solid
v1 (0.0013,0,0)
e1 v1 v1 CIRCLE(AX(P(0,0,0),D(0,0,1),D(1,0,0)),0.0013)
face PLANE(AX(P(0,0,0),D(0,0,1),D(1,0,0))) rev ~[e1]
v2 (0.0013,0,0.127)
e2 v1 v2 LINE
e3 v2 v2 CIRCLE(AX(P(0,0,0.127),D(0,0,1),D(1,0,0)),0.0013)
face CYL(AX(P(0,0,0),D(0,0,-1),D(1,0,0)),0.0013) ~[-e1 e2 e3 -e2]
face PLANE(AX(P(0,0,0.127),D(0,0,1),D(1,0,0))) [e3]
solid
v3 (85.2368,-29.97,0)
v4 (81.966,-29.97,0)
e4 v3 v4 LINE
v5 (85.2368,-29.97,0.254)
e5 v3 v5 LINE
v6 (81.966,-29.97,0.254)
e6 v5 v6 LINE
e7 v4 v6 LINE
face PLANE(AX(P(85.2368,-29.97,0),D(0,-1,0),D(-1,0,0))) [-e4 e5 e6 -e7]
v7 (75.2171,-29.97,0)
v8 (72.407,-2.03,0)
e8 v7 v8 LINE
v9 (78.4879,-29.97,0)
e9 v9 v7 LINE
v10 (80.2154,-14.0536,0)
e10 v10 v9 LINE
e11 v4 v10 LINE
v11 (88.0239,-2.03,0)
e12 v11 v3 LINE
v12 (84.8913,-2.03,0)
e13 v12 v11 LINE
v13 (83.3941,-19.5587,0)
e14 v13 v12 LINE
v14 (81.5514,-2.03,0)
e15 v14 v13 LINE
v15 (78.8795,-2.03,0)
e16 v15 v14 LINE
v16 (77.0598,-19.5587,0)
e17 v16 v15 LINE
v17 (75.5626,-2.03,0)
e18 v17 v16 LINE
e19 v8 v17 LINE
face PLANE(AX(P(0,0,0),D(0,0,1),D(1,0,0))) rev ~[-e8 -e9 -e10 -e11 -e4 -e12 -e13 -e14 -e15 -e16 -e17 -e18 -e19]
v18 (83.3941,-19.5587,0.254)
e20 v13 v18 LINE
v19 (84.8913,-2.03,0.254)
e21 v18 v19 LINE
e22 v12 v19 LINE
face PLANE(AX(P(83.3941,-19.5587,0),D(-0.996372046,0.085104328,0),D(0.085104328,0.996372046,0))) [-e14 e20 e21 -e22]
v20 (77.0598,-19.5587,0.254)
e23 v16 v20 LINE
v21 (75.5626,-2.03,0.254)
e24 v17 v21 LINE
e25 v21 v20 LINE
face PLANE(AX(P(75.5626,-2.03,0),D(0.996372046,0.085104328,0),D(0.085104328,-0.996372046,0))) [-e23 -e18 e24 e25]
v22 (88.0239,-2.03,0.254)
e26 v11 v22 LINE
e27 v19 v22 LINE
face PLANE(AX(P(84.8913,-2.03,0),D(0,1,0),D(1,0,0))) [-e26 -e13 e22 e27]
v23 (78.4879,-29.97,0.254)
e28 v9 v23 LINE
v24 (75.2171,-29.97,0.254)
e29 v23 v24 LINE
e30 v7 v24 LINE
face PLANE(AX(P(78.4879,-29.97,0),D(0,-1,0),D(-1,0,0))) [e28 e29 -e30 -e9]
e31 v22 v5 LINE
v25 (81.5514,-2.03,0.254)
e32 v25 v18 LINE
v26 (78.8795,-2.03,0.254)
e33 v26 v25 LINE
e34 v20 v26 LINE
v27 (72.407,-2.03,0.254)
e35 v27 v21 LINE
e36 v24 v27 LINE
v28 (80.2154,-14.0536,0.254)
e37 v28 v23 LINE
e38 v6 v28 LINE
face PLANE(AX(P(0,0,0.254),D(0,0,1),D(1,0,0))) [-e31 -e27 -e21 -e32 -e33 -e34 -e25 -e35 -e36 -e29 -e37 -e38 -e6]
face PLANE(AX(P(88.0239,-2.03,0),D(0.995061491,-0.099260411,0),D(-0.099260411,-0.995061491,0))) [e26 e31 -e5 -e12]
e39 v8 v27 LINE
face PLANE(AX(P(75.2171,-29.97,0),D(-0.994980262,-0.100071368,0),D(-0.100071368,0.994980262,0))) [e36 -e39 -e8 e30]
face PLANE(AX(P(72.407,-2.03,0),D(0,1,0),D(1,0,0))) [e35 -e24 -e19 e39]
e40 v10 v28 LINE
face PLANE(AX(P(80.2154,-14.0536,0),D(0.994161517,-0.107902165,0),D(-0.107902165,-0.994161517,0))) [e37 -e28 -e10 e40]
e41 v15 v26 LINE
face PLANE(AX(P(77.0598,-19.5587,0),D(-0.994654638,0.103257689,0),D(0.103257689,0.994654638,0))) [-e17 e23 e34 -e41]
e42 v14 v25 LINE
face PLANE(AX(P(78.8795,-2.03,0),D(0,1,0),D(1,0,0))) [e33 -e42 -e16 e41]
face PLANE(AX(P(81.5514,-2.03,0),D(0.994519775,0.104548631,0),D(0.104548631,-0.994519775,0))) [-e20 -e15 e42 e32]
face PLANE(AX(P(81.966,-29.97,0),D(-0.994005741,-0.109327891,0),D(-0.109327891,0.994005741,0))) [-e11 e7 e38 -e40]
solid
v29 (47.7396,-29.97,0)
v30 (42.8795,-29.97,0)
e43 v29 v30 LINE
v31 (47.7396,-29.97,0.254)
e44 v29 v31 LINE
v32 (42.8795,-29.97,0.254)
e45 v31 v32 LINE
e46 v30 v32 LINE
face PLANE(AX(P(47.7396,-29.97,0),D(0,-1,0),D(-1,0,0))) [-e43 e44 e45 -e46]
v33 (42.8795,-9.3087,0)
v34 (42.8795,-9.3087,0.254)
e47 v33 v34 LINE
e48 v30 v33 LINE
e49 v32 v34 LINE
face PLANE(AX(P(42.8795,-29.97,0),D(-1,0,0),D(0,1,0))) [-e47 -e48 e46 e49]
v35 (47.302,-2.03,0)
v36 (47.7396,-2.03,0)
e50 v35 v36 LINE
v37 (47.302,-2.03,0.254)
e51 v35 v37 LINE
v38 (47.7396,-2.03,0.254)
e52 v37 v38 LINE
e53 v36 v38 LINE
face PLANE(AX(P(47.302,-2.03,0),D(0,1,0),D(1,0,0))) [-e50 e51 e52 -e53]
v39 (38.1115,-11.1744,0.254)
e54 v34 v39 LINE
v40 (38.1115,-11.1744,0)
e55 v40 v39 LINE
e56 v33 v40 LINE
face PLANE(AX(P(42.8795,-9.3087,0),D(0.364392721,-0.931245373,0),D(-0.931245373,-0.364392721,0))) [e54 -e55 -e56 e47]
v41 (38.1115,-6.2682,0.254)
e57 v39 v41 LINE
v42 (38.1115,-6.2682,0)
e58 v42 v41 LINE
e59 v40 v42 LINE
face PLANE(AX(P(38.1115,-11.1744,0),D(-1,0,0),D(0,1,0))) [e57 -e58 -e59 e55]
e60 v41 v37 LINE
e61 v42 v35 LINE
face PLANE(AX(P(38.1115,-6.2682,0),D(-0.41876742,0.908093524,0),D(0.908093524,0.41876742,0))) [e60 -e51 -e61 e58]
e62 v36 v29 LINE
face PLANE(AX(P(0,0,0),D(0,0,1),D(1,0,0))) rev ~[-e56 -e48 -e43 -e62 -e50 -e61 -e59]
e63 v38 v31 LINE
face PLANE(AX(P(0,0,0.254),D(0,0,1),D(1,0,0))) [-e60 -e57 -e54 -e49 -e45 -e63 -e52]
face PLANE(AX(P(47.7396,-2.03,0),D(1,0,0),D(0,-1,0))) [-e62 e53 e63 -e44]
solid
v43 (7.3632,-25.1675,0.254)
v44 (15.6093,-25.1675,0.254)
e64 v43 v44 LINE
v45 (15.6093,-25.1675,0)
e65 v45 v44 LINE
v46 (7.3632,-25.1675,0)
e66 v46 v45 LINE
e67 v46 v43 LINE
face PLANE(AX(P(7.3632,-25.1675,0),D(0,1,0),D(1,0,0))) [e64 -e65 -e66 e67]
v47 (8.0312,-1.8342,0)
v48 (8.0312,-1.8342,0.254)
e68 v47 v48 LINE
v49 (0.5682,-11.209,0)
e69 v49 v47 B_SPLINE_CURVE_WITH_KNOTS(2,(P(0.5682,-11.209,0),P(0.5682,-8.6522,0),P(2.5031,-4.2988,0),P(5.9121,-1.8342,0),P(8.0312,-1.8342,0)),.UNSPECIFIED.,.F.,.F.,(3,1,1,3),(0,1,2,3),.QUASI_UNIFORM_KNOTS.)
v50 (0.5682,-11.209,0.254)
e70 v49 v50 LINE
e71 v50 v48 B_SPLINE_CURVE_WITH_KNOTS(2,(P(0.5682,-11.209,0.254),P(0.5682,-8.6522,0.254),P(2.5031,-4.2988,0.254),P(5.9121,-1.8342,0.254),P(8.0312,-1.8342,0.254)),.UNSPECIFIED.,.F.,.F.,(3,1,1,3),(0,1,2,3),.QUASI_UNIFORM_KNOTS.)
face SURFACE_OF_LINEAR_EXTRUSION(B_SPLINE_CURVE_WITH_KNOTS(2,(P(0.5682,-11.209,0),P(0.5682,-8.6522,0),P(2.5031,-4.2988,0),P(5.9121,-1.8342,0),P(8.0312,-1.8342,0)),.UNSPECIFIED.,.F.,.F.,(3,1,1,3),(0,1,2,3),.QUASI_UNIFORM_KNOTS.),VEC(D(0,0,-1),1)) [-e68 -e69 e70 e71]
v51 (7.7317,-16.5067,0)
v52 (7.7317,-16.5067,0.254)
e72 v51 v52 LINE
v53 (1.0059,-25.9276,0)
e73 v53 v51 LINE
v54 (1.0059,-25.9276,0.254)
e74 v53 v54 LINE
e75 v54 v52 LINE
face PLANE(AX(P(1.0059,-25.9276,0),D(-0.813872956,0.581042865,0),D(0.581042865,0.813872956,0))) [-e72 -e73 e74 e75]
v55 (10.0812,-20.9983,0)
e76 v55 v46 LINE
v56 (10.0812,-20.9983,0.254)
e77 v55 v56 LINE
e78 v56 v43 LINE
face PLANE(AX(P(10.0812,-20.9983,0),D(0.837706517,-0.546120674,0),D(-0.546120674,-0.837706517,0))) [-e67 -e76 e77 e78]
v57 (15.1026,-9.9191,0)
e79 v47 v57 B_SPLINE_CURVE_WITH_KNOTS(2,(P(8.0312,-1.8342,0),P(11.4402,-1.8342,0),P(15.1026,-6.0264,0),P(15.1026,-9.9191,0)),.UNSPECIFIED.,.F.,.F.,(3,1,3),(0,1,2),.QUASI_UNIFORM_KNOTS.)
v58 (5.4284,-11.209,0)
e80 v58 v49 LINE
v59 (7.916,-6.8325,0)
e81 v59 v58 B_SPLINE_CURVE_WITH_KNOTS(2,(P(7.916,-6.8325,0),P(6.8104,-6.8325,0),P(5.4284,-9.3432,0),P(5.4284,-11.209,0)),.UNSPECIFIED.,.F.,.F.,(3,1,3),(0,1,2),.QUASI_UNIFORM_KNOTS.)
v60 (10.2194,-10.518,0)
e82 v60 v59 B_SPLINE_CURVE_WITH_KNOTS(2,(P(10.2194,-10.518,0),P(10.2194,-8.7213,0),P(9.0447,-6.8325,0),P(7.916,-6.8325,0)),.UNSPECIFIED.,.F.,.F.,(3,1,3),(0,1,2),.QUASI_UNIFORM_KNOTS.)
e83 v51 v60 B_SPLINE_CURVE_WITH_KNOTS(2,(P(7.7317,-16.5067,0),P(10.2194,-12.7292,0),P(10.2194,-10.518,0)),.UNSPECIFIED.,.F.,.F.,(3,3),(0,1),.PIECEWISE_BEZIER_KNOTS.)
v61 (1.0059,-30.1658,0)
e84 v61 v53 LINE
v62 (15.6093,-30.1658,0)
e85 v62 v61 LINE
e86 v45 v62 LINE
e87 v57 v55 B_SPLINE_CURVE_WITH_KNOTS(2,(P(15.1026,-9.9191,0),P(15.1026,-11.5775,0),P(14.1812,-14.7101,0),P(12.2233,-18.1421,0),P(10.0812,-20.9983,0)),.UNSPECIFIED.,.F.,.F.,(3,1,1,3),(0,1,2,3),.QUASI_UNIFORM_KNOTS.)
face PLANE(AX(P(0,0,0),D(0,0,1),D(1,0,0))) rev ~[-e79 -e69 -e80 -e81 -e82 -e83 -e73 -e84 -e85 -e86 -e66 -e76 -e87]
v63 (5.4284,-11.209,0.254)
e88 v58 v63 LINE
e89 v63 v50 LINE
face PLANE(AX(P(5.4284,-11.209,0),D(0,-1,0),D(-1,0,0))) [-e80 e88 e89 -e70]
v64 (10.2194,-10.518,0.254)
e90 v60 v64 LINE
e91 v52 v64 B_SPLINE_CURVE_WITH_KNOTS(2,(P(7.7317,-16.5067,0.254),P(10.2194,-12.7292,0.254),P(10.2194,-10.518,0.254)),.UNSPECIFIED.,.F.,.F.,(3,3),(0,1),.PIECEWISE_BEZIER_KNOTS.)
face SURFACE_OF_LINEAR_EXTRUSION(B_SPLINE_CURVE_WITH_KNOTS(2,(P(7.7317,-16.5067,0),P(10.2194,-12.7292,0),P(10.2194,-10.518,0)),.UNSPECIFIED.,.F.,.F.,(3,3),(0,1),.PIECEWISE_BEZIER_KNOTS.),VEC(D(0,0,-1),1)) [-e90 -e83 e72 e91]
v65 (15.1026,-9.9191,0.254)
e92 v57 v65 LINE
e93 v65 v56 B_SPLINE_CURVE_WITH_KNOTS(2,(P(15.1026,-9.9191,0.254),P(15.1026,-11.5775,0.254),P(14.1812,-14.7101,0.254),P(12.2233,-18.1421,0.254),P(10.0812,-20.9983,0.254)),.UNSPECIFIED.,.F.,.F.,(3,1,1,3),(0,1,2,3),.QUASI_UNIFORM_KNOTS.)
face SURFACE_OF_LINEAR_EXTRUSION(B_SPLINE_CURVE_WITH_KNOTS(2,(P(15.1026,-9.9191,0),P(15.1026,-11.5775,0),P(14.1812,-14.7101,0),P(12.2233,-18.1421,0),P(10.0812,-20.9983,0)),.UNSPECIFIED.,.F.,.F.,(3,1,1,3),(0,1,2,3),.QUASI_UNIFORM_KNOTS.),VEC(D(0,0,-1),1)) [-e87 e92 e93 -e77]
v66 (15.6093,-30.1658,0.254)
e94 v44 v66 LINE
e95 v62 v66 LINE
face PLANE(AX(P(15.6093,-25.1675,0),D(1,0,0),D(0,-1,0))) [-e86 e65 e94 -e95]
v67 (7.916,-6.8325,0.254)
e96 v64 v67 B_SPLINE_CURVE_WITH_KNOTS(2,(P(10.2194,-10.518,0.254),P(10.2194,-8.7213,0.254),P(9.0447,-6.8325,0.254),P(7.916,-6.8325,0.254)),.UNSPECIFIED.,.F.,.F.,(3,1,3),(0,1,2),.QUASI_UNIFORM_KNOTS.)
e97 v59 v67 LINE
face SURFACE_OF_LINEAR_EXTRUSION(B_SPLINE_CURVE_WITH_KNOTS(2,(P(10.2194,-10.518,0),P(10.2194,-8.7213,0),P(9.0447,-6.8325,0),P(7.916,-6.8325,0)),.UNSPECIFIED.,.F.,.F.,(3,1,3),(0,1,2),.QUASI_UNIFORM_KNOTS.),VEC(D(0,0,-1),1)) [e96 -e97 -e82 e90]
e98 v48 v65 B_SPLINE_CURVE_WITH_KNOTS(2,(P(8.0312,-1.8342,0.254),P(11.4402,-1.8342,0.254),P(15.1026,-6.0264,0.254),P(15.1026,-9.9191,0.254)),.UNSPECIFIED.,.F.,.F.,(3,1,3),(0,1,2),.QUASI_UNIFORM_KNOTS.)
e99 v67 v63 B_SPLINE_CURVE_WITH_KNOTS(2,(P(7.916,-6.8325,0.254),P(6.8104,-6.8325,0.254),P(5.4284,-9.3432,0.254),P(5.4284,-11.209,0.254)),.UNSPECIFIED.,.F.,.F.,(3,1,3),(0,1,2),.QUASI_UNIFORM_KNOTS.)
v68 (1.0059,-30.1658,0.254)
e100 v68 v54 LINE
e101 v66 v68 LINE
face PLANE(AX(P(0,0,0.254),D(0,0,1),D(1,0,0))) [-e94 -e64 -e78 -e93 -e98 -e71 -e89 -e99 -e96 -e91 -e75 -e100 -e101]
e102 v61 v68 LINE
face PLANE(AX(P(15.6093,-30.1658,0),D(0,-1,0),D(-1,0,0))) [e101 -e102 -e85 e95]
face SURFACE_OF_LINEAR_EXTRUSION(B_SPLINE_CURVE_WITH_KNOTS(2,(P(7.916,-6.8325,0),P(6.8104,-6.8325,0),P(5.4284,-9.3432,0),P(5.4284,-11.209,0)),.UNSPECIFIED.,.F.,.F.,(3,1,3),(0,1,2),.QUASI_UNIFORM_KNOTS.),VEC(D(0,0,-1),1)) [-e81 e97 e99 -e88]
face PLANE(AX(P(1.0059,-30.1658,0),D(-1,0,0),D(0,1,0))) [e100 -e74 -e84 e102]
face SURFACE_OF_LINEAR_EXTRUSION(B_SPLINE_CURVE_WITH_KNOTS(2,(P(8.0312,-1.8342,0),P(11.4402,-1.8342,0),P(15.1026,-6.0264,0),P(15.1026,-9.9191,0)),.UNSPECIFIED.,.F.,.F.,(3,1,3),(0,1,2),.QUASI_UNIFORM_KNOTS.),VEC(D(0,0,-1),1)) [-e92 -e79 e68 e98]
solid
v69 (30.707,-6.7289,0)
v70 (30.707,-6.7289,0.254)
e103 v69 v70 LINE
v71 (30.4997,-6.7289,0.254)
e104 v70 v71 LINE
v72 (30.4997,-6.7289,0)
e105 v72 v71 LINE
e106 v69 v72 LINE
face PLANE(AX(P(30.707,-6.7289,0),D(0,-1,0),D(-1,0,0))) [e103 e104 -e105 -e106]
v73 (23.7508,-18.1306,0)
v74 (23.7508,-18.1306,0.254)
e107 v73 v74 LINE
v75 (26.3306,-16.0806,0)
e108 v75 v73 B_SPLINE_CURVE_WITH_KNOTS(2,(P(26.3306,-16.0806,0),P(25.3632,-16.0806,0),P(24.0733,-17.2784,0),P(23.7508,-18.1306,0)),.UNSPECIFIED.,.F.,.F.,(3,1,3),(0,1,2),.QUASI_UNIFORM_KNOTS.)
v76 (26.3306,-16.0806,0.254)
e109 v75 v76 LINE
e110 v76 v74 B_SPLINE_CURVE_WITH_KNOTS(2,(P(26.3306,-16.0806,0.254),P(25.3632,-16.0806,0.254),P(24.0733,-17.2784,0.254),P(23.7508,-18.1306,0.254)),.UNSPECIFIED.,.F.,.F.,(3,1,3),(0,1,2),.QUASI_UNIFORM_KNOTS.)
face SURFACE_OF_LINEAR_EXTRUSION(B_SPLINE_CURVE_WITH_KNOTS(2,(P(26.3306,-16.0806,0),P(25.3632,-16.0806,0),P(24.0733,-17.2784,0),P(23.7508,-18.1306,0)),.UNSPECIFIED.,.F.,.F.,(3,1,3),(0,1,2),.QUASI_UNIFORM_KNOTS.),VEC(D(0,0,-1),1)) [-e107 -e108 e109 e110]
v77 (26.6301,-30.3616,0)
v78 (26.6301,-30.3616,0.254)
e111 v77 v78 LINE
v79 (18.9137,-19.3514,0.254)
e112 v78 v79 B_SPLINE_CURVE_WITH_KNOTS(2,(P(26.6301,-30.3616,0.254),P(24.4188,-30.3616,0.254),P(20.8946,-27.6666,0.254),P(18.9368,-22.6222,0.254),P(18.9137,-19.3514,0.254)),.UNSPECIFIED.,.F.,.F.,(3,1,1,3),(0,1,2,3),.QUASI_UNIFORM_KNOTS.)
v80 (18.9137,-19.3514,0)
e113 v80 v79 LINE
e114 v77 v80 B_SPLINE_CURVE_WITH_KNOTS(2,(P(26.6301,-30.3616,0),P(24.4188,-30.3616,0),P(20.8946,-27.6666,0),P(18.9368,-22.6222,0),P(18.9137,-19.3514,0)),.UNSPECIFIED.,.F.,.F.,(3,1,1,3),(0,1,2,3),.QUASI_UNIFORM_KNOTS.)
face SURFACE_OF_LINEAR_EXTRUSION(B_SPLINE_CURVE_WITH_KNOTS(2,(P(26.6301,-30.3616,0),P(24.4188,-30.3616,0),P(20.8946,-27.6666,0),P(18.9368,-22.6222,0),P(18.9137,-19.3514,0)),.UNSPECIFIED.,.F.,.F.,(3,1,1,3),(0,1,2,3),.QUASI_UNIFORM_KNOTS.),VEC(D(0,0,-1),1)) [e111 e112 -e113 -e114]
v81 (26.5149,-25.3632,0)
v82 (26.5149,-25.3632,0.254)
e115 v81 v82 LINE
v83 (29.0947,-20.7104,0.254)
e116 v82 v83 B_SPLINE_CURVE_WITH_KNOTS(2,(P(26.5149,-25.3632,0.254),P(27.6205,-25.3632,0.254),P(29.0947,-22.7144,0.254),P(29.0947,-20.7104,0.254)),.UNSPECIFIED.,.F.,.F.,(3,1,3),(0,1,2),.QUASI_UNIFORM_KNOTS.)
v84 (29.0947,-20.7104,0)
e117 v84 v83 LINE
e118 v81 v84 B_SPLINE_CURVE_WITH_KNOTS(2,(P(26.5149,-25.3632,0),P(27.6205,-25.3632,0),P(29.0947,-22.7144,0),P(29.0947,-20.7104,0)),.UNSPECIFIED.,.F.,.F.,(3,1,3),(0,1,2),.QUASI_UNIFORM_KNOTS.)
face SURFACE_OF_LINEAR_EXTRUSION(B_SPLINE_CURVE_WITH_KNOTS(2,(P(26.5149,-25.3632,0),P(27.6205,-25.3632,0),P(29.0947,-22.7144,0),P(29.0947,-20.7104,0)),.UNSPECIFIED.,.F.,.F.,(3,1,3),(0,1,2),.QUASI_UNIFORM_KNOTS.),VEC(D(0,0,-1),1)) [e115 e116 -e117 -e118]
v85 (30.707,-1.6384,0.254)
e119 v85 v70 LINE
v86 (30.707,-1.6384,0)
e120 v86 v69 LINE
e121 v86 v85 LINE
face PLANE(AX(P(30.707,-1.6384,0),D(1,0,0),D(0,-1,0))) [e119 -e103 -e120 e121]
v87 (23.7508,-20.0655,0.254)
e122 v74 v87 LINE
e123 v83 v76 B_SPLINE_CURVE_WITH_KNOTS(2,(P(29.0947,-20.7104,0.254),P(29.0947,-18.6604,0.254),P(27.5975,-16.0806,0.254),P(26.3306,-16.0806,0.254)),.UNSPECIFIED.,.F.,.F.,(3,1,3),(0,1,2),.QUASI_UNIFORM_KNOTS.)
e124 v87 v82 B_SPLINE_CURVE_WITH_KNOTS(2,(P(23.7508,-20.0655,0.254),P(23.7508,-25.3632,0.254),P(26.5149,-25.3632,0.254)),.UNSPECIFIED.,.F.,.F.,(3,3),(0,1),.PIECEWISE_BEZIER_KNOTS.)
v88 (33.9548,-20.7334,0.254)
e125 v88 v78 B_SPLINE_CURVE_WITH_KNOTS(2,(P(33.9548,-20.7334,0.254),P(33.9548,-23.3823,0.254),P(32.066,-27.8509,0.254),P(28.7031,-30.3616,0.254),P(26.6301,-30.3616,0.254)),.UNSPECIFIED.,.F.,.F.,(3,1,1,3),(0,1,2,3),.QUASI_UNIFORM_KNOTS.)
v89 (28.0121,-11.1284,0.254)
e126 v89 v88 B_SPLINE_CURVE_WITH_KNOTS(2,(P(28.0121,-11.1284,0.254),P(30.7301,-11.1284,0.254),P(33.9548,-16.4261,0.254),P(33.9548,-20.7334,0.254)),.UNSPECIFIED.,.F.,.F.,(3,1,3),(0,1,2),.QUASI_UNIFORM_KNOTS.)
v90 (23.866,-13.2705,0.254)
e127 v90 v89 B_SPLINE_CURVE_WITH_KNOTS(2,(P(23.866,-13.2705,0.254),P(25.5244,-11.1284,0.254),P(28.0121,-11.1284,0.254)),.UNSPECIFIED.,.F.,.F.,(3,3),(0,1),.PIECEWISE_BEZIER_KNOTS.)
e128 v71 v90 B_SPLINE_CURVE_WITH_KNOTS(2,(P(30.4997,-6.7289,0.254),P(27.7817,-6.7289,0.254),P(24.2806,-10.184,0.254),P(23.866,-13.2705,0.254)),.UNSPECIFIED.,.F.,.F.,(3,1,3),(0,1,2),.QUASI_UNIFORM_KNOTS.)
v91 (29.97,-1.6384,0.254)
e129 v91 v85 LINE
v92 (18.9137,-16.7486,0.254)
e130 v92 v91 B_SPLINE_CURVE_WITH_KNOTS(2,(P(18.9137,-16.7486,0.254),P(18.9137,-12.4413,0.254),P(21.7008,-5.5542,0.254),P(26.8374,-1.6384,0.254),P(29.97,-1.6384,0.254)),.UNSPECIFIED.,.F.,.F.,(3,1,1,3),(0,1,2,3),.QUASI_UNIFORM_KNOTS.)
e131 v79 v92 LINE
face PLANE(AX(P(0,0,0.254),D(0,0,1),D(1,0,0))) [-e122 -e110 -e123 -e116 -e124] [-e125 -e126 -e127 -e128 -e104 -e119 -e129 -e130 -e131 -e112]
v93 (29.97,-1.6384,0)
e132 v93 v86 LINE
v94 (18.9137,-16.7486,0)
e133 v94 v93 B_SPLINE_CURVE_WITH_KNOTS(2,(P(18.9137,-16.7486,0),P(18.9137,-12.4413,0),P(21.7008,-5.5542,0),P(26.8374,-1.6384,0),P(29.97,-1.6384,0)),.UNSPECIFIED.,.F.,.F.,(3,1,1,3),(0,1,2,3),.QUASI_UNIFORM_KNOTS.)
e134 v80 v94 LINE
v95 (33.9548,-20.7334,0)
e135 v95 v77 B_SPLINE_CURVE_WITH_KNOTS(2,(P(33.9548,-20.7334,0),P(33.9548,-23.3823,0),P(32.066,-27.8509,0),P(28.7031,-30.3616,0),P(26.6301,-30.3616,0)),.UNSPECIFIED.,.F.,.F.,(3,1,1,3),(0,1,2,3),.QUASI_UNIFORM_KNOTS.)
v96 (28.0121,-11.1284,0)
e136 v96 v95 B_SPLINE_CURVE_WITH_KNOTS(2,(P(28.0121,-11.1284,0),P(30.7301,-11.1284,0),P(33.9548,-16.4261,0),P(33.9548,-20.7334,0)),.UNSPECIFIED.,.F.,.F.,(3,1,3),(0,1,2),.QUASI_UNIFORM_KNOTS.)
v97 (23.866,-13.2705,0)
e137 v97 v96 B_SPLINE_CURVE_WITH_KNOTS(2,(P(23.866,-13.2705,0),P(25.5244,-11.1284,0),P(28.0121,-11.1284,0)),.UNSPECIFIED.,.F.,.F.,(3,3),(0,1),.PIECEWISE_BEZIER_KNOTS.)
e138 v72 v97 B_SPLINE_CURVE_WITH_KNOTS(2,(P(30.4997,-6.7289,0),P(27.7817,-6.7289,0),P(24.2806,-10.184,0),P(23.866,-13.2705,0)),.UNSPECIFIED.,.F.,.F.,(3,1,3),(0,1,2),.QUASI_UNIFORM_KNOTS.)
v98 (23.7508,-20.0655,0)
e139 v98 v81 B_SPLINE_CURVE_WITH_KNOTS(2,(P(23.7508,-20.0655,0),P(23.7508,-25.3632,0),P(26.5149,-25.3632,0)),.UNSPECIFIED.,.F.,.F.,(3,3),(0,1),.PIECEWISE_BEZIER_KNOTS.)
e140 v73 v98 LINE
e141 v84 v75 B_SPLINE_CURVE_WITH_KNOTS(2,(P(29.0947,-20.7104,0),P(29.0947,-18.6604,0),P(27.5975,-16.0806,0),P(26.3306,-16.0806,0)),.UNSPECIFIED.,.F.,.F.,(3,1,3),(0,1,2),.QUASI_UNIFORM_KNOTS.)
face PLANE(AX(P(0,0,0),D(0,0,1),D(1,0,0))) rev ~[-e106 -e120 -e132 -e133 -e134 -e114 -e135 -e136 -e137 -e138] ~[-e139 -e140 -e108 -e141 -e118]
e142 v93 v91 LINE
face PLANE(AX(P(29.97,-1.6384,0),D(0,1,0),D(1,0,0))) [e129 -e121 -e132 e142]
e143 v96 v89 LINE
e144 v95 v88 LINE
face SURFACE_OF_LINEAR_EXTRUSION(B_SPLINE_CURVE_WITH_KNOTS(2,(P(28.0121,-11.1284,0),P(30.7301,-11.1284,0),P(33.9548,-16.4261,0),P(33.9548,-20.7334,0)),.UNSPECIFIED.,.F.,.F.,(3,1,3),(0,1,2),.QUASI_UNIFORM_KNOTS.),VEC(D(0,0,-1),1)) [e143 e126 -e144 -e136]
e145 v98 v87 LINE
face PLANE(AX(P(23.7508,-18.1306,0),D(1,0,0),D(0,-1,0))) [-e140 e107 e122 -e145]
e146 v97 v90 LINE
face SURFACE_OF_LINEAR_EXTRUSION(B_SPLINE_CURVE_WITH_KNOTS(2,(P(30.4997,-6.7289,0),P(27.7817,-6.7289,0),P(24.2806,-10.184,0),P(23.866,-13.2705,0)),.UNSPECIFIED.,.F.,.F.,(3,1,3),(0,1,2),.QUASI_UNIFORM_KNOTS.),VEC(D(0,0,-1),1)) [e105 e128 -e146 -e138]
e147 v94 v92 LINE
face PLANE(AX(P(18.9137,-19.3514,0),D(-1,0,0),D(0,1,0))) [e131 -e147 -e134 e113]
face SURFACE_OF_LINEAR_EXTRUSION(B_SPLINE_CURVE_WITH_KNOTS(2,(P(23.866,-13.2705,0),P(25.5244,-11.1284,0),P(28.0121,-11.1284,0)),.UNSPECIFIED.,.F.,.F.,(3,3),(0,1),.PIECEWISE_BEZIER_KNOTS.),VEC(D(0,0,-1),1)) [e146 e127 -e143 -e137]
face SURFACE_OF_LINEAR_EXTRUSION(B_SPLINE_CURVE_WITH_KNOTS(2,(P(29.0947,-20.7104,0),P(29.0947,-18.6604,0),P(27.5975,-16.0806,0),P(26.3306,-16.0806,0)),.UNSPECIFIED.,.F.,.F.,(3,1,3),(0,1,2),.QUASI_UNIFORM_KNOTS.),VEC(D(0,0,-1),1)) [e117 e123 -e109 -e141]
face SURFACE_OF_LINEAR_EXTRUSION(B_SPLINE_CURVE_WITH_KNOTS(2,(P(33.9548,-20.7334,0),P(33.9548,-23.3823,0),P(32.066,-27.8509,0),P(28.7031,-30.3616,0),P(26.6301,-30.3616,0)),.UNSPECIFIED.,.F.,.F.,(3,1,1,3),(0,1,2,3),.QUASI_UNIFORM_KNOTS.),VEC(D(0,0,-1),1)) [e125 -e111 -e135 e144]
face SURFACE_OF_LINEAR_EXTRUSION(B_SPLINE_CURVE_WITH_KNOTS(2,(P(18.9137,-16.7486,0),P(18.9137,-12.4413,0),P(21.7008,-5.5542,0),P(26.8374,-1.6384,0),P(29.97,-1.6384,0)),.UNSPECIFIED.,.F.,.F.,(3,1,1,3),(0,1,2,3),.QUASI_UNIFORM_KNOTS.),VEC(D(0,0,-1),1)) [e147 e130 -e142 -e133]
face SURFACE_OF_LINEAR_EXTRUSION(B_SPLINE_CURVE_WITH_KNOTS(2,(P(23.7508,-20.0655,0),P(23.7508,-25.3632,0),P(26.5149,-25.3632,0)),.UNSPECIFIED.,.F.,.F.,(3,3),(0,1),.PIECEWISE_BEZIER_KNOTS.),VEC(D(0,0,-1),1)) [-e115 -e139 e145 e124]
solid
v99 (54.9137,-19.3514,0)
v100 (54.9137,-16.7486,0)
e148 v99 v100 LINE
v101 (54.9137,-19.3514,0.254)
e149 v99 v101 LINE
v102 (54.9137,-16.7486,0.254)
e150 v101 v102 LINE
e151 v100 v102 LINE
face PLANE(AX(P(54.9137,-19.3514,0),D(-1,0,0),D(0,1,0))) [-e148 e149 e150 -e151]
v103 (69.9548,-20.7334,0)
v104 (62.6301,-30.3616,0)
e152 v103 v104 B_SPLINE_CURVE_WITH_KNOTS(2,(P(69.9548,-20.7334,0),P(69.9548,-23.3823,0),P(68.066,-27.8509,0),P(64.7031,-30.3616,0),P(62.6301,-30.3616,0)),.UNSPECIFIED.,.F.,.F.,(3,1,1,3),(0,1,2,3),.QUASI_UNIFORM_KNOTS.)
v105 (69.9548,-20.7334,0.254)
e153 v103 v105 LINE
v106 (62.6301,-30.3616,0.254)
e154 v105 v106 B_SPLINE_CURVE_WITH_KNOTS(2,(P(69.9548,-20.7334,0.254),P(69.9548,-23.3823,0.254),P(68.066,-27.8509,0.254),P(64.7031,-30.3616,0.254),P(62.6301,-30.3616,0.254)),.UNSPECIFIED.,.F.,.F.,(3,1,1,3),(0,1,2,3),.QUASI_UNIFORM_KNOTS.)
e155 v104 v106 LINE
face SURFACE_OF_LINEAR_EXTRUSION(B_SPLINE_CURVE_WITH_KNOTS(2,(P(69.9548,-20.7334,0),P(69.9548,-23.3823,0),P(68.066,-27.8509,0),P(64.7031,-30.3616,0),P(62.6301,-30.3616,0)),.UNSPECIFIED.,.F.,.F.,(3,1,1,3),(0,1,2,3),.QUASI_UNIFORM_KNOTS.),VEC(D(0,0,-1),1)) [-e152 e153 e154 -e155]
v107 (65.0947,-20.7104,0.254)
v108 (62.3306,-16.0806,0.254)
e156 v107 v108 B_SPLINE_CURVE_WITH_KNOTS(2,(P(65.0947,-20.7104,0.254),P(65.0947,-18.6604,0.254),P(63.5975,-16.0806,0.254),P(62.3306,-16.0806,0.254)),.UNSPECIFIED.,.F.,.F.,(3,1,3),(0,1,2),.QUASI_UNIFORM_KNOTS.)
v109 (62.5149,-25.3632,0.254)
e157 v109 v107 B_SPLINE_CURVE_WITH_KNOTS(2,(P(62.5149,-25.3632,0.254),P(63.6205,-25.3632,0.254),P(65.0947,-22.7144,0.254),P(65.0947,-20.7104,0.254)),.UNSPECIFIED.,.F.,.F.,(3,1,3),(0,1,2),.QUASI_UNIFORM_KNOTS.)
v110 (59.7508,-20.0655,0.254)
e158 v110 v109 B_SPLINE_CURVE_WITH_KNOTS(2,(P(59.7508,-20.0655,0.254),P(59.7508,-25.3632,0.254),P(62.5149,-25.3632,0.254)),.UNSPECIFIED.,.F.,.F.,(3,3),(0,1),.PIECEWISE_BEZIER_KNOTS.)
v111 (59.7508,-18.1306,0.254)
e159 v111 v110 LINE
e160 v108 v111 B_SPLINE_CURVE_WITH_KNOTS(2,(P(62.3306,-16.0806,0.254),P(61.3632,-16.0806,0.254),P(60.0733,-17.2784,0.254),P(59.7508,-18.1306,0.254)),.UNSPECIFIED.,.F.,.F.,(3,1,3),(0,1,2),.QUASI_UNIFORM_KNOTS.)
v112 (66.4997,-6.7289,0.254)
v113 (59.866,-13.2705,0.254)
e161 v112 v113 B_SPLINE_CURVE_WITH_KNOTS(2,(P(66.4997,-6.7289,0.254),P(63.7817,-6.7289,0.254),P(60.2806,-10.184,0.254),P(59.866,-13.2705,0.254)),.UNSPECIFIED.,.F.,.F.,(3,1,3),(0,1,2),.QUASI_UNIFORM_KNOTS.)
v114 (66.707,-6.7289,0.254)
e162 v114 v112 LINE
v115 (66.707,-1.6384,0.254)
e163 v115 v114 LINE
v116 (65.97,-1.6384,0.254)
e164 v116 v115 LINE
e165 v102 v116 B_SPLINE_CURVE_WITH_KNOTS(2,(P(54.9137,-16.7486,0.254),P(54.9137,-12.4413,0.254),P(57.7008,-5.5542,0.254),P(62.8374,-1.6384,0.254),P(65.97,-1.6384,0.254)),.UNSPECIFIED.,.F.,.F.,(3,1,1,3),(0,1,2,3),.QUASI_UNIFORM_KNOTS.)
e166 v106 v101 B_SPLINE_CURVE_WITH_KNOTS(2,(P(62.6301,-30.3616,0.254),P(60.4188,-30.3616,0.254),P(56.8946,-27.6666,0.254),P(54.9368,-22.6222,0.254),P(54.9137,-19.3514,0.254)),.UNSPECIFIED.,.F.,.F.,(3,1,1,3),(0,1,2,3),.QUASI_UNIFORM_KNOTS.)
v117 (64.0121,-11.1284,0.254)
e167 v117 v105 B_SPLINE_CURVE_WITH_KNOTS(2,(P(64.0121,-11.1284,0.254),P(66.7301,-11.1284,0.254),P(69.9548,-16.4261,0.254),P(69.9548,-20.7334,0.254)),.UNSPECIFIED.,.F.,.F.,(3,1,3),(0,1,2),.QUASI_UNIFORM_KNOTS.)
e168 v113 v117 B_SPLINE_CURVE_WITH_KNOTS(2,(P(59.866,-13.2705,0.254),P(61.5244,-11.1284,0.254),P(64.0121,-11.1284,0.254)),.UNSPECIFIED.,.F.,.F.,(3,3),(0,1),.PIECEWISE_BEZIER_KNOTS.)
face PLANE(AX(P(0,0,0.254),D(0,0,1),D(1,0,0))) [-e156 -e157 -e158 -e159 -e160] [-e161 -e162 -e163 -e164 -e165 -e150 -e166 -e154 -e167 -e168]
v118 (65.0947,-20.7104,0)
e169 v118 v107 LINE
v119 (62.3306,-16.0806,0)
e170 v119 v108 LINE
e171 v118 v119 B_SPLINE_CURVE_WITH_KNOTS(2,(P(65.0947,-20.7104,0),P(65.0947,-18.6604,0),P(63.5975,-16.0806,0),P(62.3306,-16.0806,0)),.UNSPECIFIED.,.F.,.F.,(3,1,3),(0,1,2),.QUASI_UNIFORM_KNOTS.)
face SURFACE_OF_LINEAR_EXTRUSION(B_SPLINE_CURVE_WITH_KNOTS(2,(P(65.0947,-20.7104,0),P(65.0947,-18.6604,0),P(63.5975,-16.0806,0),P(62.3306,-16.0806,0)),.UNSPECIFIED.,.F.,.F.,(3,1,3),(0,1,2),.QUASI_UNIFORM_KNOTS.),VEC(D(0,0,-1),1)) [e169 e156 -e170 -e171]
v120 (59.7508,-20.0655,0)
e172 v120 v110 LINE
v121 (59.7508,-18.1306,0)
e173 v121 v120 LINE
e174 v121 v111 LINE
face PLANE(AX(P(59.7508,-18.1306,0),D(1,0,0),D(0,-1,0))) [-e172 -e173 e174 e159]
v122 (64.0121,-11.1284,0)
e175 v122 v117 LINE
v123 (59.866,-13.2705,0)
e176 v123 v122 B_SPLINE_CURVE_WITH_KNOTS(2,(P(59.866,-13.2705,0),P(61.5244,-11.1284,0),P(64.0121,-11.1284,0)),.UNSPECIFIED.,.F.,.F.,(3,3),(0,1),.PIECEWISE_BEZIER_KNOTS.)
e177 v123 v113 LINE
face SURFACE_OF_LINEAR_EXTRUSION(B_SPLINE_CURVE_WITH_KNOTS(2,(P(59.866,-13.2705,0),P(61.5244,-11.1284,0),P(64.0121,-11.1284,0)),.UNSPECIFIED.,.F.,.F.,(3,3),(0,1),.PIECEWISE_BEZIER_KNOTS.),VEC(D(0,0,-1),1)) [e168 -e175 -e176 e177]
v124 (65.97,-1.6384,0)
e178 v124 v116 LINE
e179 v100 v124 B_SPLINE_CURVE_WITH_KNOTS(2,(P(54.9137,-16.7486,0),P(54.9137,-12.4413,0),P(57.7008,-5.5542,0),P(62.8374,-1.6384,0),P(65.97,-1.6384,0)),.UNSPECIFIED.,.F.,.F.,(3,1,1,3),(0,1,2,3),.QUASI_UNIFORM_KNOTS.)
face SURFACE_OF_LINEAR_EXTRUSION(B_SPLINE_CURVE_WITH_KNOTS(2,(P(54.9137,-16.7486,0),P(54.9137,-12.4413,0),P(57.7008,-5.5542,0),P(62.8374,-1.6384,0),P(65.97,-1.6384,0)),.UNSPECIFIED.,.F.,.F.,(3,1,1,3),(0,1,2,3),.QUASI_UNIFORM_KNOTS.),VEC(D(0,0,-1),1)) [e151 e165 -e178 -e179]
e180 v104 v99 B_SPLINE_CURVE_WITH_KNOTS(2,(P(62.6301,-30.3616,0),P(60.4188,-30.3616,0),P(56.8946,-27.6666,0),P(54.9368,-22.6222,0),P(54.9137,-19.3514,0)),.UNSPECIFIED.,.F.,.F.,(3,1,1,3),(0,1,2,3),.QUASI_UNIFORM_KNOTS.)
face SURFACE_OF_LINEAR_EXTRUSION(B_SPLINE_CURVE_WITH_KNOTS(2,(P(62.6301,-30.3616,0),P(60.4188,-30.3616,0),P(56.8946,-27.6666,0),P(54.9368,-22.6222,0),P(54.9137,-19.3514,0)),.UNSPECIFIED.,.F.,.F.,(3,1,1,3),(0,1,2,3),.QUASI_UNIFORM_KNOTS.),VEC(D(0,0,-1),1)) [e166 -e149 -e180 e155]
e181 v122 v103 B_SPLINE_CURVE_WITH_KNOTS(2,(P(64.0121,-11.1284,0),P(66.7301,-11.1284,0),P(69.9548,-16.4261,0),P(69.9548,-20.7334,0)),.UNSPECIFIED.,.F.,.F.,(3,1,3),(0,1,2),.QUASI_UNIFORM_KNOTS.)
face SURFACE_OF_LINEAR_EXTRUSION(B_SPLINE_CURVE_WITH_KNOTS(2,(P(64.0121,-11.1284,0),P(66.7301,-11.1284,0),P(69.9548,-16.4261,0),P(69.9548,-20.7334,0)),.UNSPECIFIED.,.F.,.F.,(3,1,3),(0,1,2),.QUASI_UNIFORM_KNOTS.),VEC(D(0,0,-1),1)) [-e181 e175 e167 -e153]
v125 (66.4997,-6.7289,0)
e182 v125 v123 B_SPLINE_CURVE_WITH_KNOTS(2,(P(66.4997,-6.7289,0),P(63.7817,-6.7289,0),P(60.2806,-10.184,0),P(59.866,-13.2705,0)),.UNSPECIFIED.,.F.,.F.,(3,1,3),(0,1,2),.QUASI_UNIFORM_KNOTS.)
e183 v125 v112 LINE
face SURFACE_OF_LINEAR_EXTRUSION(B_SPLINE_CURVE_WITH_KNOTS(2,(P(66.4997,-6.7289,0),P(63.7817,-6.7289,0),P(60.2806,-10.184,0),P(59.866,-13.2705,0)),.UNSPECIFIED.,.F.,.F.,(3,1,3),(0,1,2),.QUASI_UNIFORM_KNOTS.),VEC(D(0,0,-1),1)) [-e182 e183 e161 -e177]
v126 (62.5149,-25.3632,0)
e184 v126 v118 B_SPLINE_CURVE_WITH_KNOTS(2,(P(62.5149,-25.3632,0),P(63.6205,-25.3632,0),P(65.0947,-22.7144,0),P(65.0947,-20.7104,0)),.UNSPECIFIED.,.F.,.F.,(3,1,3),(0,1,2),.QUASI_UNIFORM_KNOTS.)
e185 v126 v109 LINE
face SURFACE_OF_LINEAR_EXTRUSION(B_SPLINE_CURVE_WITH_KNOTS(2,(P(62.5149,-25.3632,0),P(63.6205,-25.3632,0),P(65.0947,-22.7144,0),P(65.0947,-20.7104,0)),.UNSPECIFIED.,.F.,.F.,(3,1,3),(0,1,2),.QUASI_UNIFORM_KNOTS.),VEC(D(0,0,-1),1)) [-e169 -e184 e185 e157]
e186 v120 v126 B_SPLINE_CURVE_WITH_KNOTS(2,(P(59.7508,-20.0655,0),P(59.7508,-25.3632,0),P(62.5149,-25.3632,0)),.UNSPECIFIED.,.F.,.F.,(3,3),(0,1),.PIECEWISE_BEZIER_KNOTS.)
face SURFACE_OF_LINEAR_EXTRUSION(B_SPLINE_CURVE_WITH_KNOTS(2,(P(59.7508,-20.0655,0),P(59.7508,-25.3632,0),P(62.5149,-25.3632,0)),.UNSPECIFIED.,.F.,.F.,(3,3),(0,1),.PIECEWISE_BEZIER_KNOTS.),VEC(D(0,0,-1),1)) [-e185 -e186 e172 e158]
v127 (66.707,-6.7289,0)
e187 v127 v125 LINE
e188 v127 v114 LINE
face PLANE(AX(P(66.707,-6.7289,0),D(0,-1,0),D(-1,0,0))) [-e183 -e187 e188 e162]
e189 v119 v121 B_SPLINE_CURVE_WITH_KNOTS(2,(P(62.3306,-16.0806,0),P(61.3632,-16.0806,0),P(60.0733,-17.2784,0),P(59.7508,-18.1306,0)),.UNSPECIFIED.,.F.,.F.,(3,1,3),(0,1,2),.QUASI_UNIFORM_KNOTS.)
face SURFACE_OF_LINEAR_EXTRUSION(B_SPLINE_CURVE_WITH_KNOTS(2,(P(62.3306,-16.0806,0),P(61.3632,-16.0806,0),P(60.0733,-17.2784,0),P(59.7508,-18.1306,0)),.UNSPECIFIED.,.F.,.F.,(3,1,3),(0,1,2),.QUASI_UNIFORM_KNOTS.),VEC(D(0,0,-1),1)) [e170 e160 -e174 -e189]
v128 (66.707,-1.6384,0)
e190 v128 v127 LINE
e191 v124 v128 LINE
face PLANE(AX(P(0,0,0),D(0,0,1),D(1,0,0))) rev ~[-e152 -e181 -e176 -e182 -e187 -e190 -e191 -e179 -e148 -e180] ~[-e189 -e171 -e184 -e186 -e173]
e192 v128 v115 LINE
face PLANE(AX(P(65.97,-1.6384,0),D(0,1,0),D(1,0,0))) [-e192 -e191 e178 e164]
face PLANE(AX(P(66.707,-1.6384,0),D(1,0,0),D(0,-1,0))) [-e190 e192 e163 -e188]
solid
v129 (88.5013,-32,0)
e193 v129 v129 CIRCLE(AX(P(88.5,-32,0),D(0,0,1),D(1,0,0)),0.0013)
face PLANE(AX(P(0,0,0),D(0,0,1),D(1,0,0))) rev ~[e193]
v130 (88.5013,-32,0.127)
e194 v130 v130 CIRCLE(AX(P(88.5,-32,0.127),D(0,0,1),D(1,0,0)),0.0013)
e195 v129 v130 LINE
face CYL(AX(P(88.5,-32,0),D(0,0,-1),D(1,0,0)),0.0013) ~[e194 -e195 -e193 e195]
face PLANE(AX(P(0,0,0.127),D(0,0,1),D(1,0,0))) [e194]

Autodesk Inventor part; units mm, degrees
ref_plane "YZ Plane" through (0, 0, 0) normal (1, 0, 0) x (0, 1, 0)
ref_plane "XZ Plane" through (0, 0, 0) normal (0, 1, 0) x (-1, 0, 0)
ref_plane "XY Plane" through (0, 0, 0) normal (0, 0, 1) x (1, 0, 0)
sketch "Sketch1" plane through (0, 0, 0) normal (0, 0, 1) x (1, 0, 0)
  line L0 (36, 0) -> (52.5, 0) construction
  line L1 (52.5, 0) -> (52.5, -32) construction
  line L2 (52.5, -32) -> (36, -32) construction
  line L3 (36, -32) -> (36, 0) construction
  line L4 (52.5, -32) -> (54, -32) construction
  line L5 (54, 0) -> (70.5, 0) construction
  line L6 (70.5, 0) -> (70.5, -32) construction
  line L7 (70.5, -32) -> (54, -32) construction
  line L8 (54, -32) -> (54, 0) construction
  line L9 (70.5, -32) -> (72, -32) construction
  line L10 (0, 0) -> (16.5, 0) construction
  line L11 (16.5, 0) -> (16.5, -32) construction
  line L12 (16.5, -32) -> (0, -32) construction
  line L13 (0, -32) -> (0, 0) construction
  line L14 (16.5, -32) -> (18, -32) construction
  line L15 (18, -32) -> (18, 0) construction
  line L16 (18, 0) -> (34.5, 0) construction
  line L17 (34.5, 0) -> (34.5, -32) construction
  line L18 (34.5, -32) -> (18, -32) construction
  line L19 (34.5, -32) -> (36, -32) construction
  line L20 (72, -32) -> (72, 0) construction
  line L21 (72, 0) -> (88.5, 0) construction
  line L22 (88.5, 0) -> (88.5, -32) construction
  line L23 (88.5, -32) -> (72, -32) construction
  circle A0 centre (88.5, -32) radius 0.0013
  circle A1 centre (0, 0) radius 0.0013
  line L24 (15.6093, -30.1658) -> (1.0059, -30.1658)
  line L25 (1.0059, -30.1658) -> (1.0059, -25.9276)
  line L26 (1.0059, -25.9276) -> (7.7317, -16.5067)
  spline S0 degree 2 poles (7.7317, -16.5067) (10.2194, -12.7292) (10.2194, -10.518) knots 0 0 0 1 1 1
  spline S1 degree 2 poles (10.2194, -10.518) (10.2194, -8.7213) (9.0447, -6.8325) (7.916, -6.8325) knots 0 0 0 1 2 2 2
  spline S2 degree 2 poles (7.916, -6.8325) (6.8104, -6.8325) (5.4284, -9.3432) (5.4284, -11.209) knots 0 0 0 1 2 2 2
  line L27 (5.4284, -11.209) -> (0.5682, -11.209)
  spline S3 degree 2 poles (0.5682, -11.209) (0.5682, -8.6522) (2.5031, -4.2988) (5.9121, -1.8342) (8.0312, -1.8342) knots 0 0 0 1 2 3 3 3
  spline S4 degree 2 poles (8.0312, -1.8342) (11.4402, -1.8342) (15.1026, -6.0264) (15.1026, -9.9191) knots 0 0 0 1 2 2 2
  spline S5 degree 2 poles (15.1026, -9.9191) (15.1026, -11.5775) (14.1812, -14.7101) (12.2233, -18.1421) (10.0812, -20.9983) knots 0 0 0 1 2 3 3 3
  line L28 (10.0812, -20.9983) -> (7.3632, -25.1675)
  line L29 (7.3632, -25.1675) -> (15.6093, -25.1675)
  line L30 (15.6093, -25.1675) -> (15.6093, -30.1658)
  line L31 (30.707, -1.6384) -> (30.707, -6.7289)
  line L32 (30.707, -6.7289) -> (30.4997, -6.7289)
  spline S6 degree 2 poles (30.4997, -6.7289) (27.7817, -6.7289) (24.2806, -10.184) (23.866, -13.2705) knots 0 0 0 1 2 2 2
  spline S7 degree 2 poles (23.866, -13.2705) (25.5244, -11.1284) (28.0121, -11.1284) knots 0 0 0 1 1 1
  spline S8 degree 2 poles (28.0121, -11.1284) (30.7301, -11.1284) (33.9548, -16.4261) (33.9548, -20.7334) knots 0 0 0 1 2 2 2
  spline S9 degree 2 poles (33.9548, -20.7334) (33.9548, -23.3823) (32.066, -27.8509) (28.7031, -30.3616) (26.6301, -30.3616) knots 0 0 0 1 2 3 3 3
  spline S10 degree 2 poles (26.6301, -30.3616) (24.4188, -30.3616) (20.8946, -27.6666) (18.9368, -22.6222) (18.9137, -19.3514) knots 0 0 0 1 2 3 3 3
  line L33 (18.9137, -19.3514) -> (18.9137, -16.7486)
  spline S11 degree 2 poles (18.9137, -16.7486) (18.9137, -12.4413) (21.7008, -5.5542) (26.8374, -1.6384) (29.97, -1.6384) knots 0 0 0 1 2 3 3 3
  line L34 (29.97, -1.6384) -> (30.707, -1.6384)
  spline S12 degree 2 poles (26.3306, -16.0806) (25.3632, -16.0806) (24.0733, -17.2784) (23.7508, -18.1306) knots 0 0 0 1 2 2 2
  line L35 (23.7508, -18.1306) -> (23.7508, -20.0655)
  spline S13 degree 2 poles (23.7508, -20.0655) (23.7508, -25.3632) (26.5149, -25.3632) knots 0 0 0 1 1 1
  spline S14 degree 2 poles (26.5149, -25.3632) (27.6205, -25.3632) (29.0947, -22.7144) (29.0947, -20.7104) knots 0 0 0 1 2 2 2
  spline S15 degree 2 poles (29.0947, -20.7104) (29.0947, -18.6604) (27.5975, -16.0806) (26.3306, -16.0806) knots 0 0 0 1 2 2 2
  line L36 (47.7396, -29.97) -> (42.8795, -29.97)
  line L37 (42.8795, -29.97) -> (42.8795, -9.3087)
  line L38 (42.8795, -9.3087) -> (38.1115, -11.1744)
  line L39 (38.1115, -11.1744) -> (38.1115, -6.2682)
  line L40 (38.1115, -6.2682) -> (47.302, -2.03)
  line L41 (47.302, -2.03) -> (47.7396, -2.03)
  line L42 (47.7396, -2.03) -> (47.7396, -29.97)
  line L43 (66.707, -1.6384) -> (66.707, -6.7289)
  line L44 (66.707, -6.7289) -> (66.4997, -6.7289)
  spline S16 degree 2 poles (66.4997, -6.7289) (63.7817, -6.7289) (60.2806, -10.184) (59.866, -13.2705) knots 0 0 0 1 2 2 2
  spline S17 degree 2 poles (59.866, -13.2705) (61.5244, -11.1284) (64.0121, -11.1284) knots 0 0 0 1 1 1
  spline S18 degree 2 poles (64.0121, -11.1284) (66.7301, -11.1284) (69.9548, -16.4261) (69.9548, -20.7334) knots 0 0 0 1 2 2 2
  spline S19 degree 2 poles (69.9548, -20.7334) (69.9548, -23.3823) (68.066, -27.8509) (64.7031, -30.3616) (62.6301, -30.3616) knots 0 0 0 1 2 3 3 3
  spline S20 degree 2 poles (62.6301, -30.3616) (60.4188, -30.3616) (56.8946, -27.6666) (54.9368, -22.6222) (54.9137, -19.3514) knots 0 0 0 1 2 3 3 3
  line L45 (54.9137, -19.3514) -> (54.9137, -16.7486)
  spline S21 degree 2 poles (54.9137, -16.7486) (54.9137, -12.4413) (57.7008, -5.5542) (62.8374, -1.6384) (65.97, -1.6384) knots 0 0 0 1 2 3 3 3
  line L46 (65.97, -1.6384) -> (66.707, -1.6384)
  spline S22 degree 2 poles (62.3306, -16.0806) (61.3632, -16.0806) (60.0733, -17.2784) (59.7508, -18.1306) knots 0 0 0 1 2 2 2
  line L47 (59.7508, -18.1306) -> (59.7508, -20.0655)
  spline S23 degree 2 poles (59.7508, -20.0655) (59.7508, -25.3632) (62.5149, -25.3632) knots 0 0 0 1 1 1
  spline S24 degree 2 poles (62.5149, -25.3632) (63.6205, -25.3632) (65.0947, -22.7144) (65.0947, -20.7104) knots 0 0 0 1 2 2 2
  spline S25 degree 2 poles (65.0947, -20.7104) (65.0947, -18.6604) (63.5975, -16.0806) (62.3306, -16.0806) knots 0 0 0 1 2 2 2
  line L48 (83.3941, -19.5587) -> (84.8913, -2.03)
  line L49 (84.8913, -2.03) -> (88.0239, -2.03)
  line L50 (88.0239, -2.03) -> (85.2368, -29.97)
  line L51 (85.2368, -29.97) -> (81.966, -29.97)
  line L52 (81.966, -29.97) -> (80.2154, -14.0536)
  line L53 (80.2154, -14.0536) -> (78.4879, -29.97)
  line L54 (78.4879, -29.97) -> (75.2171, -29.97)
  line L55 (75.2171, -29.97) -> (72.407, -2.03)
  line L56 (72.407, -2.03) -> (75.5626, -2.03)
  line L57 (75.5626, -2.03) -> (77.0598, -19.5587)
  line L58 (77.0598, -19.5587) -> (78.8795, -2.03)
  line L59 (78.8795, -2.03) -> (81.5514, -2.03)
  line L60 (81.5514, -2.03) -> (83.3941, -19.5587)
  dimension "d4" = 16.5
  dimension "d5" = 1.5
  dimension "d9" = 16.5
  dimension "d10" = 1.5
  dimension "d11" = 32
  dimension "d12" = 16.5
  dimension "d13" = 1.5
  dimension "d15" = 16.5
  dimension "d16" = 1.5
  dimension "d18" = 16.5
  dimension "d26" = 0.0025
  dimension "d28" = 0.0025
extrude "Extrusion1" add sketch "Sketch1" along normal blind 0.254 contours L24 L25 L26 S0 S1 S2 L27 S3 S4 S5 L28 L29 L30 | L31 L32 S6 S7 S8 S9 S10 L33 S11 L34 | L36 L37 L38 L39 L40 L41 L42 | L43 L44 S16 S17 S18 S19 S20 L45 S21 L46 | L48 L49 L50 L51 L52 L53 L54 L55 L56 L57 L58 L59 L60
extrude "Extrusion2" add sketch "Sketch1" along normal blind 0.127 contours A0 | A1
properties part number "License Plate Numbers"
